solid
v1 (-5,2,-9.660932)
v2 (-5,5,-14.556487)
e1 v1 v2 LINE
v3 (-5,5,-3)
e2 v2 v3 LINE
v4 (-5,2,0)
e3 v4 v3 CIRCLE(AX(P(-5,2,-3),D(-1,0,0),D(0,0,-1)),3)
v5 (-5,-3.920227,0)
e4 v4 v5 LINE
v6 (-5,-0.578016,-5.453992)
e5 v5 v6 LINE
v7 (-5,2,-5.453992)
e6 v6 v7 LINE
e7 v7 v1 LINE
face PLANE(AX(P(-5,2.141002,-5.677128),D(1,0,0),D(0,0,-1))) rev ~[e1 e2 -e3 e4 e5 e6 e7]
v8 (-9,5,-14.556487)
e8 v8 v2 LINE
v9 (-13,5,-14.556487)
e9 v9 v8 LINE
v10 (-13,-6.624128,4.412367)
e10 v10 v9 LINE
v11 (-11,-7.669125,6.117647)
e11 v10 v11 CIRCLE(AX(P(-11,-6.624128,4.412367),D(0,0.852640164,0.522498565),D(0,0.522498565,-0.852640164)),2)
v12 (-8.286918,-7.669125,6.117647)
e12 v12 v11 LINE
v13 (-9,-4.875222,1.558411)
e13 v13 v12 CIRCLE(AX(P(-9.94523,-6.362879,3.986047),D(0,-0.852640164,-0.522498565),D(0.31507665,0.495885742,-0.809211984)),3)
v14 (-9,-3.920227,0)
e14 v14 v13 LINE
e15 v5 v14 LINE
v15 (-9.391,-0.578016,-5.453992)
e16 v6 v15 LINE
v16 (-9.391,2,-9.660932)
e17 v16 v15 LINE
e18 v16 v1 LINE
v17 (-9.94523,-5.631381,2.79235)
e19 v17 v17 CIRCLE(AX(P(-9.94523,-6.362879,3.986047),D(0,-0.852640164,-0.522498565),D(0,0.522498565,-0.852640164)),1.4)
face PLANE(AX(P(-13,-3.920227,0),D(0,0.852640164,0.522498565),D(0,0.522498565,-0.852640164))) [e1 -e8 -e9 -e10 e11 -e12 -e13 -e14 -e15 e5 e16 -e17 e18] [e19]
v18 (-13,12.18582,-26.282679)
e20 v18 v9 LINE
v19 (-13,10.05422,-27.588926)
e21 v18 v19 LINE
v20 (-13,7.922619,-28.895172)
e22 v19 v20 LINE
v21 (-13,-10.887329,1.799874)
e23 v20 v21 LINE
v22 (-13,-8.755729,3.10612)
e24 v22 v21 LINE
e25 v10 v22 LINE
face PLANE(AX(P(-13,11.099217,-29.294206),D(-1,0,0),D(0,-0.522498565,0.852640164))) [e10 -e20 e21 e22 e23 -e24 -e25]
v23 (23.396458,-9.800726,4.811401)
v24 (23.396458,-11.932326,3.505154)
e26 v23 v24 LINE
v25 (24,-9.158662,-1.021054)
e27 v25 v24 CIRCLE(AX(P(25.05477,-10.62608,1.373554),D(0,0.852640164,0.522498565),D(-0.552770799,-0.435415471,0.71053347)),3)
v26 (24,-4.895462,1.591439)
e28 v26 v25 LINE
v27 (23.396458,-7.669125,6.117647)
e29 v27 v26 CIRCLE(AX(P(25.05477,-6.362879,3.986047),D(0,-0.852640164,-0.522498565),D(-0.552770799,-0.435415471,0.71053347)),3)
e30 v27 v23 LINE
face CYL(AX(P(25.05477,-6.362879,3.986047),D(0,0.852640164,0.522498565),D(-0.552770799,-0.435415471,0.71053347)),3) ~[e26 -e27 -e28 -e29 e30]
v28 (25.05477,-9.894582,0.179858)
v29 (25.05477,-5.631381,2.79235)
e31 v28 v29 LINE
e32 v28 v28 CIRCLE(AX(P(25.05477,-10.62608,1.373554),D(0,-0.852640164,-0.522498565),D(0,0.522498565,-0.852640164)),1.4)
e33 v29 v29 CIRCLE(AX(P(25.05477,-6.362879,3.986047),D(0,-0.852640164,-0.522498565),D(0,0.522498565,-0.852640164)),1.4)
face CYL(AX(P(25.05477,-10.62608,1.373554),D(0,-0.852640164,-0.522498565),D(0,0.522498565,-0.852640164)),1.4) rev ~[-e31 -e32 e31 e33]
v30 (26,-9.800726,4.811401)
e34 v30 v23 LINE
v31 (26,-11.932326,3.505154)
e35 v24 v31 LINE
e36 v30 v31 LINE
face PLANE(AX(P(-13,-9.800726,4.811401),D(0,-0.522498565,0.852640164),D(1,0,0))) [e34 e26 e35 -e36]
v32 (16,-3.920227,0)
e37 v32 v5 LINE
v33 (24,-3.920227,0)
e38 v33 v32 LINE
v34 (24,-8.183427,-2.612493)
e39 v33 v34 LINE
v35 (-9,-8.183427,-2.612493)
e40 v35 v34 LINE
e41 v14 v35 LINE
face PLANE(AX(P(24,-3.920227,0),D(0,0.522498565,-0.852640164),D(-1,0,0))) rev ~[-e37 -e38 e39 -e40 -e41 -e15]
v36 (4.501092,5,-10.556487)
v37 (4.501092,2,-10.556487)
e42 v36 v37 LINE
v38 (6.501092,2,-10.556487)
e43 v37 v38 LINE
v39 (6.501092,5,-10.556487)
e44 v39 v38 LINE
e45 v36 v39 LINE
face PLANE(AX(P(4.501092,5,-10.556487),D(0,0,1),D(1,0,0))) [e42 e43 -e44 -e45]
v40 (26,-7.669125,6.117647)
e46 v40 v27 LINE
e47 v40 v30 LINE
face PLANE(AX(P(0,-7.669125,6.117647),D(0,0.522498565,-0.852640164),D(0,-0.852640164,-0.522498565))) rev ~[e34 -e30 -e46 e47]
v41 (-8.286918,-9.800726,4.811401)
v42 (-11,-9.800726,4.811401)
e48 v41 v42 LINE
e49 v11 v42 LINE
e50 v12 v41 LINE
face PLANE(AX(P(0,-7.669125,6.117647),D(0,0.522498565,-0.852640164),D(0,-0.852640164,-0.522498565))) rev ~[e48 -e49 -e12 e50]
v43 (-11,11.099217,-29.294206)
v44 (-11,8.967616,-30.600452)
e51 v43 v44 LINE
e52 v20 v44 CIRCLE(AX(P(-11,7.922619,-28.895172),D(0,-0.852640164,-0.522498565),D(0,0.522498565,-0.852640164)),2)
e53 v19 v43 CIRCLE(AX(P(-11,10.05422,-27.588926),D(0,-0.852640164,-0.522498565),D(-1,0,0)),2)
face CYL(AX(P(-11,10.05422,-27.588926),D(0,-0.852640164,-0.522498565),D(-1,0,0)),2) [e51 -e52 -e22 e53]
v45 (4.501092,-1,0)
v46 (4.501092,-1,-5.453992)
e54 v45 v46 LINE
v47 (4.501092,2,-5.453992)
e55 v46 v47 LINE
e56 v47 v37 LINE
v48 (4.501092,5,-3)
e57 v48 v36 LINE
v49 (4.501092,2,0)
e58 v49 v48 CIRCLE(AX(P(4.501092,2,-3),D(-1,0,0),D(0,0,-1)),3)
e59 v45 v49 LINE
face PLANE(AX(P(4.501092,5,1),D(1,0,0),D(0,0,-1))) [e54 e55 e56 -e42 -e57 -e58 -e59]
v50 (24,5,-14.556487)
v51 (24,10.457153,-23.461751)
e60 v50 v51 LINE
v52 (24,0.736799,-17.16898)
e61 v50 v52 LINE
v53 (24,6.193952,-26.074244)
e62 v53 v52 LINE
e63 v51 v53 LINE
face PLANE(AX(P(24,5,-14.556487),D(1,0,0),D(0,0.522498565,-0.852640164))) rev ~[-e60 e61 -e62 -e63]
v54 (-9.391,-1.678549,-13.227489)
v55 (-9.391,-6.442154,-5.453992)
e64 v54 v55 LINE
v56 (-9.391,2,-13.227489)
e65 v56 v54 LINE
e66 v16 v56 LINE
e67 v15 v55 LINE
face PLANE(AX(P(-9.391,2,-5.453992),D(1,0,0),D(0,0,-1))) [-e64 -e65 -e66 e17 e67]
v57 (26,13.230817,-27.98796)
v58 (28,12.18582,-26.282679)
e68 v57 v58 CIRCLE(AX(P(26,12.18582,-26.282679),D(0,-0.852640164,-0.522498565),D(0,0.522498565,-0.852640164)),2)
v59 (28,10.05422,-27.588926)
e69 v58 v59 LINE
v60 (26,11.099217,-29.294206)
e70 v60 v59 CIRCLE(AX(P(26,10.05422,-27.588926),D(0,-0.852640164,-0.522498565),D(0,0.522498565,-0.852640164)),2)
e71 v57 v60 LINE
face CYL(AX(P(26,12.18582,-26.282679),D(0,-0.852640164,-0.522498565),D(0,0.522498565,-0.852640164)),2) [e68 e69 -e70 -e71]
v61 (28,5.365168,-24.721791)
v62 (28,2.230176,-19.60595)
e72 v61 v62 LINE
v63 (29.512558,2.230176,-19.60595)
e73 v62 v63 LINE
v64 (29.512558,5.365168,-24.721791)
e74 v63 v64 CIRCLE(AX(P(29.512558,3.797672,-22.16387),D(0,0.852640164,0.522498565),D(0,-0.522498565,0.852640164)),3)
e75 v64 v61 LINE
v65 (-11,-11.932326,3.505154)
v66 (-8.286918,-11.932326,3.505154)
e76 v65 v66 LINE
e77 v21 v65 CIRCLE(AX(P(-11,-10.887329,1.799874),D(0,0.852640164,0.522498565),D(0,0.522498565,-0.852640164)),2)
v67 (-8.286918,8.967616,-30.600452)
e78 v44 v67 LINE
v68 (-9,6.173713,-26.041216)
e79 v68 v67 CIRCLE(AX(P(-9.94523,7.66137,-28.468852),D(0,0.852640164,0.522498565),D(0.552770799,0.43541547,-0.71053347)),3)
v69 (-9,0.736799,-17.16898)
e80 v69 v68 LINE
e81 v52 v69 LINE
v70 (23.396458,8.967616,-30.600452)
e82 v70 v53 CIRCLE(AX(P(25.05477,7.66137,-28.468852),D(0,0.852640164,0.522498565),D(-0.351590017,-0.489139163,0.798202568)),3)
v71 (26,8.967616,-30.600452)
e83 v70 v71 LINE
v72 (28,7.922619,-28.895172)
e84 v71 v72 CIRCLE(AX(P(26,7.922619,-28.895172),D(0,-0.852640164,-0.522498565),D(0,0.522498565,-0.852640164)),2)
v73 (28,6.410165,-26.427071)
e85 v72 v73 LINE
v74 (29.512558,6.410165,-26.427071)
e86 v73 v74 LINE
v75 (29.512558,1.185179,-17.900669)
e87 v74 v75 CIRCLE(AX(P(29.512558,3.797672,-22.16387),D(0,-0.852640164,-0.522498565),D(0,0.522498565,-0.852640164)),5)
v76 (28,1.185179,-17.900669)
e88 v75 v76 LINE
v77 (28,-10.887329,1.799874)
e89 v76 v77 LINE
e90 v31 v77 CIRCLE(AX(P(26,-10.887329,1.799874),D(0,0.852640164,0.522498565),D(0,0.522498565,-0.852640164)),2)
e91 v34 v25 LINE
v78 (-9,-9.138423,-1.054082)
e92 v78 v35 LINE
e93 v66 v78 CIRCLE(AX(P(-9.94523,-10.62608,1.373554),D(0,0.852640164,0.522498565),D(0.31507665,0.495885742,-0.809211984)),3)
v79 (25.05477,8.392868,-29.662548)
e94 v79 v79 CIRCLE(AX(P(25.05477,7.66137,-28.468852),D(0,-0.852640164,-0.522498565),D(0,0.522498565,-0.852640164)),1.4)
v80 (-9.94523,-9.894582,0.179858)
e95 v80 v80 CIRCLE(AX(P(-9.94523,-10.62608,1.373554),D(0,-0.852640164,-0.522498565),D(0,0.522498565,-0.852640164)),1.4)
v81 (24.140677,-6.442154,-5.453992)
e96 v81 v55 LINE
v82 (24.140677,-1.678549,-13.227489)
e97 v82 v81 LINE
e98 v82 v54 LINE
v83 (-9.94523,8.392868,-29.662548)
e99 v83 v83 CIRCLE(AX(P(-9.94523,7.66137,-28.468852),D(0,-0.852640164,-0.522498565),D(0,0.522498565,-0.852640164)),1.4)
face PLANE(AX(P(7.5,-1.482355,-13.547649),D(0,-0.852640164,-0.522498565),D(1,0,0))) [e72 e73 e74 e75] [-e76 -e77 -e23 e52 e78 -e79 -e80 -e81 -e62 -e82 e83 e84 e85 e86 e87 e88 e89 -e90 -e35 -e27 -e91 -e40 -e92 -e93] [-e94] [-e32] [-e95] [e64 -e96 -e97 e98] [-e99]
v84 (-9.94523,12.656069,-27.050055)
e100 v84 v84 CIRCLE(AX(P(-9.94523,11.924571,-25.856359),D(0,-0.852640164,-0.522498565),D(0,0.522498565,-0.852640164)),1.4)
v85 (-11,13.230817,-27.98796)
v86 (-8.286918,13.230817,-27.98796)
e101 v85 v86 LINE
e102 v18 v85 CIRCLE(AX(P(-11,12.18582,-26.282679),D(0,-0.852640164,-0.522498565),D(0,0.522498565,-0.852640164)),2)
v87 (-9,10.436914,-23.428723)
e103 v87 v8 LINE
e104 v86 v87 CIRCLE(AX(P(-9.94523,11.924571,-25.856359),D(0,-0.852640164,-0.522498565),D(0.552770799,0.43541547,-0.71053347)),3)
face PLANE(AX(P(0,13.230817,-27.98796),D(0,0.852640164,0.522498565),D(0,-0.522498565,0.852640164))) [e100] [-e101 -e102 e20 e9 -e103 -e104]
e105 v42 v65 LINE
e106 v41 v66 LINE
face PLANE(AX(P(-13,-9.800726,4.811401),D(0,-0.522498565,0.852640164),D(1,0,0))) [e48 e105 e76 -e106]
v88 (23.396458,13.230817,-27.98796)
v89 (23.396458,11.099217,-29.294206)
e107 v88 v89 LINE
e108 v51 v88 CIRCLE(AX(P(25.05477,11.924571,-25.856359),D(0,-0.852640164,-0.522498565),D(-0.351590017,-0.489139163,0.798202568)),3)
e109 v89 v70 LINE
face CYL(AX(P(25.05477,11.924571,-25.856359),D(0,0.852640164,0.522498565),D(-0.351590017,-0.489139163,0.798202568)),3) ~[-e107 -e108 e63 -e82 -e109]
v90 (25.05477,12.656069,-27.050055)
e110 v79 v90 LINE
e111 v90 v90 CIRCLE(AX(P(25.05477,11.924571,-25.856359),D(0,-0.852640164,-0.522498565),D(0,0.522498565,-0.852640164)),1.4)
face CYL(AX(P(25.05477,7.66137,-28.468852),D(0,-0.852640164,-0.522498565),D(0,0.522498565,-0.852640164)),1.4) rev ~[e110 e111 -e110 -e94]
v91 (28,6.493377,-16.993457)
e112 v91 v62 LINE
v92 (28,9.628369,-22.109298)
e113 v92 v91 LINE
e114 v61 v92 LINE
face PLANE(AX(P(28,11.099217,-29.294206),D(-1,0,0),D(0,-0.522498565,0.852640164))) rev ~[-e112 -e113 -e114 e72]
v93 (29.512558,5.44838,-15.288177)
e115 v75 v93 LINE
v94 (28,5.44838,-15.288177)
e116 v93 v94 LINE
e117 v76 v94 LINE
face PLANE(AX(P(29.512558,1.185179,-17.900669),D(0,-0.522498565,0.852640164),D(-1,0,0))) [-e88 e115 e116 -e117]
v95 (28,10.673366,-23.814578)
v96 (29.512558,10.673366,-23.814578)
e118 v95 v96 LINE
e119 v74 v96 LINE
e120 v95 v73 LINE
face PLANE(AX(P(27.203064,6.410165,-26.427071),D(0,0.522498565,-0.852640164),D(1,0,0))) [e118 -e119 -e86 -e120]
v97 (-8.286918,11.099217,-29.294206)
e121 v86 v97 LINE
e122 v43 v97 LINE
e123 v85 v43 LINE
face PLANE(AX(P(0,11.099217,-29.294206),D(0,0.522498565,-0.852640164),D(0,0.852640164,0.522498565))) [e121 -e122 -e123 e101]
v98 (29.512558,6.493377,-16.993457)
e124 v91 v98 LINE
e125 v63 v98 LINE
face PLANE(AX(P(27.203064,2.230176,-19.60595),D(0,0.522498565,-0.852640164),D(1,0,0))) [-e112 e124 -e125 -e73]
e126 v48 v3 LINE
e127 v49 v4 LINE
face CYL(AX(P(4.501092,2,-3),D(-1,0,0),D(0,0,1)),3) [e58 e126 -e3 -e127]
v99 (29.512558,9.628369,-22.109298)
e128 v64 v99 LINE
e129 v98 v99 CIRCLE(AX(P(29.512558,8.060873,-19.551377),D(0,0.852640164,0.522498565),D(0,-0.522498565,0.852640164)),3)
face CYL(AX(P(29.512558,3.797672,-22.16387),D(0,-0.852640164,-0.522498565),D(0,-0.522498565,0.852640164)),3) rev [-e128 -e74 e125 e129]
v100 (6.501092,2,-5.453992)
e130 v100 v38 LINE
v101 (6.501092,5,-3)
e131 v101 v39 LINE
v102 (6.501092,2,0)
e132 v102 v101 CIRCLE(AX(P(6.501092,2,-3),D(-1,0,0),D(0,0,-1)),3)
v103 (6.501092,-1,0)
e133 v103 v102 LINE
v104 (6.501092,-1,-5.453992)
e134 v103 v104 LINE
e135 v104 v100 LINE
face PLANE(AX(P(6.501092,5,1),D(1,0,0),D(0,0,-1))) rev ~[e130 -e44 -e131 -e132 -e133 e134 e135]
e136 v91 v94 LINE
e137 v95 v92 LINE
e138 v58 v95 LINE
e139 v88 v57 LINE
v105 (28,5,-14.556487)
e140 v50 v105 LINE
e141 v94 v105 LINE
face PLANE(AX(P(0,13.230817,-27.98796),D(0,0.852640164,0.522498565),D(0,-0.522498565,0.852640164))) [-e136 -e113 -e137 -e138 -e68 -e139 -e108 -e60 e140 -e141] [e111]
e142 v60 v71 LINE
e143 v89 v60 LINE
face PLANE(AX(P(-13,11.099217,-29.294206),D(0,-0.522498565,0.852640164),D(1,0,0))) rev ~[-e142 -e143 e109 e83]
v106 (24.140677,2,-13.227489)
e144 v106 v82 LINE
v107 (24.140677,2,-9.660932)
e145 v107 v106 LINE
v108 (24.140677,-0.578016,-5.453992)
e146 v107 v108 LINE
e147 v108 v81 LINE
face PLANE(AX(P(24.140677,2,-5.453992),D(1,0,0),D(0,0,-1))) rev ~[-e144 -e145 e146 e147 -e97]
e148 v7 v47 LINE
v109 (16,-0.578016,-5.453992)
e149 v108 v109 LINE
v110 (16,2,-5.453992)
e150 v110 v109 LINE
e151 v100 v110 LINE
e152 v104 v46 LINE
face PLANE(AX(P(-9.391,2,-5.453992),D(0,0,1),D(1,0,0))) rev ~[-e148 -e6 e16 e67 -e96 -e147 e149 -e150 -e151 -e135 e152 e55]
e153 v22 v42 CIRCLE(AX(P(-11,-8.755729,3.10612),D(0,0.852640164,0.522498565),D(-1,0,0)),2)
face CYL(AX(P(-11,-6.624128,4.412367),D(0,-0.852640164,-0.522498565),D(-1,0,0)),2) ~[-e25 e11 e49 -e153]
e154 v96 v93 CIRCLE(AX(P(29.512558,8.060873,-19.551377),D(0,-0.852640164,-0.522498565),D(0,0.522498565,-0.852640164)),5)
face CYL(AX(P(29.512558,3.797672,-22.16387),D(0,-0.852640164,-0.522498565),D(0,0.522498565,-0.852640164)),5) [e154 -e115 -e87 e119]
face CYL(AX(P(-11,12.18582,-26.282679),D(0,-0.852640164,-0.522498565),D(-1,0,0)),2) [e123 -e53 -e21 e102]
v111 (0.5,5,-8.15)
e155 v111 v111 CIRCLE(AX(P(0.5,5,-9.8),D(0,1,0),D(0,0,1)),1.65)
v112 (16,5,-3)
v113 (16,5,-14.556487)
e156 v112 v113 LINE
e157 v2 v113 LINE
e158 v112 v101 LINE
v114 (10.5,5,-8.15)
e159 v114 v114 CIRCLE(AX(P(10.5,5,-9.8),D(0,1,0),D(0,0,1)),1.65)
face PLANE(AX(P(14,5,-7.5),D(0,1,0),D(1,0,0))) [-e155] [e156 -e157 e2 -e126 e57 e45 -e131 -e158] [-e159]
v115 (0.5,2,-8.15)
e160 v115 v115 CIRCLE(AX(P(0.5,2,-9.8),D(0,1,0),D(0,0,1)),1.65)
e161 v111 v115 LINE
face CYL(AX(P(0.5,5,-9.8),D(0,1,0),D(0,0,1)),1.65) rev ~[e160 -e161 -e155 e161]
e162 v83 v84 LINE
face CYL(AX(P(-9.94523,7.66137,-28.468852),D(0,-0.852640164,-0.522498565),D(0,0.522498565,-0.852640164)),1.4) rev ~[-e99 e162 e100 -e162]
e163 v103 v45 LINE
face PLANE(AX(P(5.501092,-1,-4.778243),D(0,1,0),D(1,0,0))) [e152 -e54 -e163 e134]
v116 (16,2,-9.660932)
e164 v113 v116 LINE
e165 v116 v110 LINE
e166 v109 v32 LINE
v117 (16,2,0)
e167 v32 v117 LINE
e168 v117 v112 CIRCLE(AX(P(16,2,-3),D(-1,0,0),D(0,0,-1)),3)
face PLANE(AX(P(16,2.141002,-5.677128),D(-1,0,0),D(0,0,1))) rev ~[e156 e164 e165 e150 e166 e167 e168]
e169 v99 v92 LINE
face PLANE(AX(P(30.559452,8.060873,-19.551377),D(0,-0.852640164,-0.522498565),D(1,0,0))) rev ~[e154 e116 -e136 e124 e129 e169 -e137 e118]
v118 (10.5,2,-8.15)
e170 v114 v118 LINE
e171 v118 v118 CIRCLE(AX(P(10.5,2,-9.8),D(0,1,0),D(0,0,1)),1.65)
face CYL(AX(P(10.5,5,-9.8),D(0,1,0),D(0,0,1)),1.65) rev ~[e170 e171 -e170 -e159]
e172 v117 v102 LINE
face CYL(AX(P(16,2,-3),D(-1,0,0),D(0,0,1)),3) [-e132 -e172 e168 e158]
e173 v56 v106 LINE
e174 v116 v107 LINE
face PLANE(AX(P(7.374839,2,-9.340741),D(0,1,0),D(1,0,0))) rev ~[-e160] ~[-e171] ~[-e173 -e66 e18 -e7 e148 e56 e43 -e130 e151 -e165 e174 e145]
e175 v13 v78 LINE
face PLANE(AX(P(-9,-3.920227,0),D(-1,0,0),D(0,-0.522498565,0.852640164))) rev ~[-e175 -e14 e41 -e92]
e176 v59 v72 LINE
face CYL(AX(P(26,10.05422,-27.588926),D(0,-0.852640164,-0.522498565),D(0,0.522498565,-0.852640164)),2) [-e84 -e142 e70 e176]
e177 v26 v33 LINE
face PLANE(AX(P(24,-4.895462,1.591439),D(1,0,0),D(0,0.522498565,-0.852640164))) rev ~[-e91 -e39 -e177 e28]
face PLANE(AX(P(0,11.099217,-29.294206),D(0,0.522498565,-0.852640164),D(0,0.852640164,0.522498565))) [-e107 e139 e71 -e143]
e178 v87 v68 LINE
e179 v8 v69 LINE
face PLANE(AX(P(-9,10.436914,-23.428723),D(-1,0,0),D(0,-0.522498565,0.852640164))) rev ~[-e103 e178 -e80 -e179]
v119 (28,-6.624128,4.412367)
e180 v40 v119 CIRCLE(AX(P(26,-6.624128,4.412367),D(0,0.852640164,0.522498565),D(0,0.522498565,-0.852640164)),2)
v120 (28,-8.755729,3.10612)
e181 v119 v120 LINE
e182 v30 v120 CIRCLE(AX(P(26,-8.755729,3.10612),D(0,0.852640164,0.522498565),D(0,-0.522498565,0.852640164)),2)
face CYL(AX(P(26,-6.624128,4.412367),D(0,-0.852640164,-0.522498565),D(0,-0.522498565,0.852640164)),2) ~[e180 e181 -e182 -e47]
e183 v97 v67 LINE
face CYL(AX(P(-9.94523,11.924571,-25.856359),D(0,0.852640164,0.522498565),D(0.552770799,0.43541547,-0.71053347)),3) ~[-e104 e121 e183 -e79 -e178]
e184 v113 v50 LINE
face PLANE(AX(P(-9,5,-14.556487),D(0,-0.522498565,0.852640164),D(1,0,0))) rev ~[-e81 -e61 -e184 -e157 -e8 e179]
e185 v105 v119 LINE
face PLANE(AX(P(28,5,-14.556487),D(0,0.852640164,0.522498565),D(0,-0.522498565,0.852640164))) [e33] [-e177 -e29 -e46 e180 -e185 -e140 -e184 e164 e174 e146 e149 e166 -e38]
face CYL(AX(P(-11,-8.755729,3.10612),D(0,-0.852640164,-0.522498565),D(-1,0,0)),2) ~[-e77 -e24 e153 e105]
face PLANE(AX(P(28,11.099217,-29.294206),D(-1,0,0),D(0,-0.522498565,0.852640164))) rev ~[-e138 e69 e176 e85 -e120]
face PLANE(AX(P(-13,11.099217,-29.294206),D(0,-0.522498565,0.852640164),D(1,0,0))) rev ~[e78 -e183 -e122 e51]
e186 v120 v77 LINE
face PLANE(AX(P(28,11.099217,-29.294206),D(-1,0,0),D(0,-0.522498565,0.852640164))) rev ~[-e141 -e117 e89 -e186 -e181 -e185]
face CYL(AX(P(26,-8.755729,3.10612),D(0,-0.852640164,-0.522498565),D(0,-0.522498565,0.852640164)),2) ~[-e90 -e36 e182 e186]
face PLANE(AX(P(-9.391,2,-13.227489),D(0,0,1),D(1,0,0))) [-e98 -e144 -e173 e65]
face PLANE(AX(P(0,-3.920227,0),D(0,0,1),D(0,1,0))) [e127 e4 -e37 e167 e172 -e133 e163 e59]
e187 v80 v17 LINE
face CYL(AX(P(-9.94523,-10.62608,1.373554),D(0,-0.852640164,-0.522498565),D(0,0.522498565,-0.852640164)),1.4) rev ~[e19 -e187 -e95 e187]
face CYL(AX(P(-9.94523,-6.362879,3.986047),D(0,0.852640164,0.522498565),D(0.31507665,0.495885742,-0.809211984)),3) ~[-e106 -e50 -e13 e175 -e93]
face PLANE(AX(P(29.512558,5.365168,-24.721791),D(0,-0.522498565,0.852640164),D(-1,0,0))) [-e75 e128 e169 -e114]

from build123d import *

# Parameters (mm, degrees)
SKETCH_1_W                  = 28
SKETCH_1_H                  = 15
EXTRUDE_1_DEPTH             = 5
EXTRUDE_2_DEPTH             = 13
EXTRUDE_2_DIRECTION_2_REACH = 34.156
CUT_EXTRUDE_1_DEPTH         = 53.098032867
SKETCH_8_W                  = 41
SKETCH_8_H                  = 40
EXTRUDE_3_DEPTH             = 2.5
SKETCH_4_R                  = 1.4
CUT_EXTRUDE_2_DEPTH         = 7
SKETCH_5_R                  = 1.65
CUT_EXTRUDE_3_DEPTH         = 45.800573211
SKETCH_6_W                  = 33.531677497
SKETCH_6_H                  = 7.773496997
CUT_EXTRUDE_4_DEPTH         = 11
FILLET_1_R                  = 2
CUT_EXTRUDE_5_DEPTH         = 44.302936624
SKETCH_10_W                 = 2
SKETCH_10_H                 = 11.556486704
CUT_EXTRUDE_6_DEPTH         = 6
CUT_EXTRUDE_8_DEPTH         = 8
CUT_EXTRUDE_9_DEPTH         = 12
FILLET_2_R                  = 3
EXTRUDE_4_DEPTH             = 5


with BuildPart() as part:
    # 草图1 → 凸台-拉伸1 (new body)
    with BuildSketch(Plane(origin=(0, 0, 0), x_dir=(1, 0, 0), z_dir=(0, 1, 0))):
        with Locations((14, 7.5)):
            Rectangle(SKETCH_1_W, SKETCH_1_H)
    extrude(amount=EXTRUDE_1_DEPTH)

    # 草图2 → 凸台-拉伸2 (add)
    with BuildSketch(Plane.ZY):
        Polygon((4.811400568, -9.800725827), (-29.294206006, 11.099216762), (-27.987959594, 13.230817173), (-14.556486704, 5), (0, 5), (0, 0), (0, -3.920226525), (6.11764698, -7.669125416), align=None)
    extrude(amount=EXTRUDE_2_DEPTH)

    # 凸台-拉伸2 direction 2: up to this face of the body (flat: up to its plane)
    extrude_2_direction_2_end = Plane(part.part.faces().sort_by_distance((28, 2.5, -7.5))[0])
    # 草图2 → 凸台-拉伸2 direction 2 (add, up to the picked face)
    with BuildSketch(Plane.ZY, mode=Mode.PRIVATE) as extrude_2_direction_2_sk1:
        Polygon((4.811400568, -9.800725827), (-29.294206006, 11.099216762), (-27.987959594, 13.230817173), (-14.556486704, 5), (0, 5), (0, 0), (0, -3.920226525), (6.11764698, -7.669125416), align=None)
    extrude_2_direction_2_tool1 = split(extrude(extrude_2_direction_2_sk1.sketch, amount=-EXTRUDE_2_DIRECTION_2_REACH, mode=Mode.PRIVATE), bisect_by=extrude_2_direction_2_end, keep=Keep.BOTH, mode=Mode.PRIVATE)
    add(extrude_2_direction_2_tool1.solids().sort_by(Axis((0, 1.837688, -8.936549), (1, 0, 0)))[0])

    # 草图3 → 切除-拉伸1 (cut, through all)
    with BuildSketch(Plane.ZY.offset(13)):
        Polygon((-15, 0), (-11.181930407, 0), (-15, 2.339716056), align=None)
    extrude(amount=-CUT_EXTRUDE_1_DEPTH, mode=Mode.SUBTRACT)

    # 草图8 → 凸台-拉伸3 (add)
    with BuildSketch(Plane(origin=(0, -4.981586473, -3.052720117), x_dir=(1, 0, 0), z_dir=(0, -0.8526401643540905, -0.5224985647159519))):
        with Locations((7.5, -10.776741451)):
            Rectangle(SKETCH_8_W, SKETCH_8_H)
    extrude(amount=EXTRUDE_3_DEPTH)

    # 草图4 → 切除-拉伸2 (cut)
    with BuildSketch(Plane(origin=(0, -7.113186884, -4.358966529), x_dir=(1, 0, 0), z_dir=(0, -0.8526401643540905, -0.5224985647159519))):
        with Locations(Location((-9.945229951, 6.723258549, 0), (0, 0, 270))):
            Circle(SKETCH_4_R)
        with Locations(Location((25.054770049, 6.723258549, 0), (0, 0, 270))):
            Circle(SKETCH_4_R)
        with Locations(Location((25.054770049, -28.276741451, 0), (0, 0, 270))):
            Circle(SKETCH_4_R)
        with Locations(Location((-9.945229951, -28.276741451, 0), (0, 0, 270))):
            Circle(SKETCH_4_R)
    extrude(amount=-CUT_EXTRUDE_2_DEPTH, mode=Mode.SUBTRACT)

    # 草图5 → 切除-拉伸3 (cut, through all)
    with BuildSketch(Plane(origin=(0, 5, 0), x_dir=(1, 0, 0), z_dir=(0, 1, 0))):
        with Locations(Location((10.5, 9.8, 0), (0, 0, 270))):
            Circle(SKETCH_5_R)
        with Locations(Location((0.5, 9.8, 0), (0, 0, 270))):
            Circle(SKETCH_5_R)
    extrude(amount=-CUT_EXTRUDE_3_DEPTH, mode=Mode.SUBTRACT)

    # 草图6 → 切除-拉伸4 (cut)
    with BuildSketch(Plane(origin=(0, 2, 0), x_dir=(1, 0, 0), z_dir=(0, 1, 0))):
        with Locations((7.374838624, 9.340740808)):
            Rectangle(SKETCH_6_W, SKETCH_6_H)
    extrude(amount=-CUT_EXTRUDE_4_DEPTH, mode=Mode.SUBTRACT)

    # 圆角1
    fillet_1_edges = [part.edges().sort_by_distance(p)[0] for p in [
        (28, 11.099216762, -29.294206006),
        (28, -9.800725827, 4.811400568),
        (-13, -9.800725827, 4.811400568),
        (-13, 11.099216762, -29.294206006),
    ]]
    fillet(fillet_1_edges, radius=FILLET_1_R)

    # 草图9 → 切除-拉伸5 (cut, through all)
    with BuildSketch(Plane(origin=(0, -2.849986062, -1.746473705), x_dir=(1, 0, 0), z_dir=(0, 0.8526401643540904, 0.5224985647159519))):
        with BuildLine():
            Line((-8.286917555, -9.223258549), (23.396457654, -9.223258549))
            ThreePointArc((23.396457654, -9.223258549), (22.073973693, -6.384358742), (24, -3.914796311))
            Line((24, -3.914796311), (24, -2.048312733))
            Line((24, -2.048312733), (-9, -2.048312733))
            Line((-9, -2.048312733), (-9, -3.876059866))
            ThreePointArc((-9, -3.876059866), (-6.971555183, -6.326700388), (-8.286917555, -9.223258549))
        make_face()
        with BuildLine():
            Line((-9, 19.02393804), (-9, 15.02393804))
            Line((-9, 15.02393804), (24, 15.02393804))
            Line((24, 15.02393804), (24, 19.02393804))
            Line((24, 19.02393804), (24, 25.468279213))
            ThreePointArc((24, 25.468279213), (22.073973693, 27.937841645), (23.396457654, 30.776741451))
            Line((23.396457654, 30.776741451), (-8.286917555, 30.776741451))
            ThreePointArc((-8.286917555, 30.776741451), (-6.971555183, 27.880183291), (-9, 25.429542768))
            Line((-9, 25.429542768), (-9, 19.02393804))
        make_face()
    extrude(amount=-CUT_EXTRUDE_5_DEPTH, mode=Mode.SUBTRACT)

    # 草图10 → 切除-拉伸6 (cut)
    with BuildSketch(Plane(origin=(0, 5, 0), x_dir=(1, 0, 0), z_dir=(0, 1, 0))):
        with Locations((5.501092332, 4.778243352)):
            Rectangle(SKETCH_10_W, SKETCH_10_H)
    extrude(amount=-CUT_EXTRUDE_6_DEPTH, mode=Mode.SUBTRACT)

    # 草图11 → 切除-拉伸8 (cut)
    with BuildSketch(Plane.ZY.offset(13)):
        Polygon((0, -3.920226525), (-14.556486704, 5), (0, 5), align=None)
    extrude(amount=-CUT_EXTRUDE_8_DEPTH, mode=Mode.SUBTRACT)

    # 草图12 → 切除-拉伸9 (cut)
    with BuildSketch(Plane(origin=(28, 0, 0), x_dir=(0, 0, -1), z_dir=(1, 0, 0))):
        Polygon((14.556486704, 5), (0, -3.920226525), (0, 5), align=None)
    extrude(amount=-CUT_EXTRUDE_9_DEPTH, mode=Mode.SUBTRACT)

    # 圆角2
    fillet_2_edges = [part.edges().sort_by_distance(p)[0] for p in [
        (11.250546166, 5, 0),
        (-0.249453834, 5, 0),
    ]]
    fillet(fillet_2_edges, radius=FILLET_2_R)

    # 草图13 → 凸台-拉伸4 (add)
    with BuildSketch(Plane(origin=(0, -7.113186884, -4.358966529), x_dir=(1, 0, 0), z_dir=(0, -0.8526401643540905, -0.5224985647159519))):
        with BuildLine():
            Line((27.203064282, -17.882084245), (29.512557602, -17.882084245))
            ThreePointArc((29.512557602, -17.882084245), (32.512557602, -20.882084245), (29.512557602, -23.882084245))
            Line((29.512557602, -23.882084245), (27.203064282, -23.882084245))
            Line((27.203064282, -23.882084245), (27.203064282, -25.882084245))
            Line((27.203064282, -25.882084245), (29.512557602, -25.882084245))
            ThreePointArc((29.512557602, -25.882084245), (34.512557602, -20.882084245), (29.512557602, -15.882084245))
            Line((29.512557602, -15.882084245), (27.203064282, -15.882084245))
            Line((27.203064282, -15.882084245), (27.203064282, -17.882084245))
        make_face()
    extrude(amount=-EXTRUDE_4_DEPTH)


solid = part.part
